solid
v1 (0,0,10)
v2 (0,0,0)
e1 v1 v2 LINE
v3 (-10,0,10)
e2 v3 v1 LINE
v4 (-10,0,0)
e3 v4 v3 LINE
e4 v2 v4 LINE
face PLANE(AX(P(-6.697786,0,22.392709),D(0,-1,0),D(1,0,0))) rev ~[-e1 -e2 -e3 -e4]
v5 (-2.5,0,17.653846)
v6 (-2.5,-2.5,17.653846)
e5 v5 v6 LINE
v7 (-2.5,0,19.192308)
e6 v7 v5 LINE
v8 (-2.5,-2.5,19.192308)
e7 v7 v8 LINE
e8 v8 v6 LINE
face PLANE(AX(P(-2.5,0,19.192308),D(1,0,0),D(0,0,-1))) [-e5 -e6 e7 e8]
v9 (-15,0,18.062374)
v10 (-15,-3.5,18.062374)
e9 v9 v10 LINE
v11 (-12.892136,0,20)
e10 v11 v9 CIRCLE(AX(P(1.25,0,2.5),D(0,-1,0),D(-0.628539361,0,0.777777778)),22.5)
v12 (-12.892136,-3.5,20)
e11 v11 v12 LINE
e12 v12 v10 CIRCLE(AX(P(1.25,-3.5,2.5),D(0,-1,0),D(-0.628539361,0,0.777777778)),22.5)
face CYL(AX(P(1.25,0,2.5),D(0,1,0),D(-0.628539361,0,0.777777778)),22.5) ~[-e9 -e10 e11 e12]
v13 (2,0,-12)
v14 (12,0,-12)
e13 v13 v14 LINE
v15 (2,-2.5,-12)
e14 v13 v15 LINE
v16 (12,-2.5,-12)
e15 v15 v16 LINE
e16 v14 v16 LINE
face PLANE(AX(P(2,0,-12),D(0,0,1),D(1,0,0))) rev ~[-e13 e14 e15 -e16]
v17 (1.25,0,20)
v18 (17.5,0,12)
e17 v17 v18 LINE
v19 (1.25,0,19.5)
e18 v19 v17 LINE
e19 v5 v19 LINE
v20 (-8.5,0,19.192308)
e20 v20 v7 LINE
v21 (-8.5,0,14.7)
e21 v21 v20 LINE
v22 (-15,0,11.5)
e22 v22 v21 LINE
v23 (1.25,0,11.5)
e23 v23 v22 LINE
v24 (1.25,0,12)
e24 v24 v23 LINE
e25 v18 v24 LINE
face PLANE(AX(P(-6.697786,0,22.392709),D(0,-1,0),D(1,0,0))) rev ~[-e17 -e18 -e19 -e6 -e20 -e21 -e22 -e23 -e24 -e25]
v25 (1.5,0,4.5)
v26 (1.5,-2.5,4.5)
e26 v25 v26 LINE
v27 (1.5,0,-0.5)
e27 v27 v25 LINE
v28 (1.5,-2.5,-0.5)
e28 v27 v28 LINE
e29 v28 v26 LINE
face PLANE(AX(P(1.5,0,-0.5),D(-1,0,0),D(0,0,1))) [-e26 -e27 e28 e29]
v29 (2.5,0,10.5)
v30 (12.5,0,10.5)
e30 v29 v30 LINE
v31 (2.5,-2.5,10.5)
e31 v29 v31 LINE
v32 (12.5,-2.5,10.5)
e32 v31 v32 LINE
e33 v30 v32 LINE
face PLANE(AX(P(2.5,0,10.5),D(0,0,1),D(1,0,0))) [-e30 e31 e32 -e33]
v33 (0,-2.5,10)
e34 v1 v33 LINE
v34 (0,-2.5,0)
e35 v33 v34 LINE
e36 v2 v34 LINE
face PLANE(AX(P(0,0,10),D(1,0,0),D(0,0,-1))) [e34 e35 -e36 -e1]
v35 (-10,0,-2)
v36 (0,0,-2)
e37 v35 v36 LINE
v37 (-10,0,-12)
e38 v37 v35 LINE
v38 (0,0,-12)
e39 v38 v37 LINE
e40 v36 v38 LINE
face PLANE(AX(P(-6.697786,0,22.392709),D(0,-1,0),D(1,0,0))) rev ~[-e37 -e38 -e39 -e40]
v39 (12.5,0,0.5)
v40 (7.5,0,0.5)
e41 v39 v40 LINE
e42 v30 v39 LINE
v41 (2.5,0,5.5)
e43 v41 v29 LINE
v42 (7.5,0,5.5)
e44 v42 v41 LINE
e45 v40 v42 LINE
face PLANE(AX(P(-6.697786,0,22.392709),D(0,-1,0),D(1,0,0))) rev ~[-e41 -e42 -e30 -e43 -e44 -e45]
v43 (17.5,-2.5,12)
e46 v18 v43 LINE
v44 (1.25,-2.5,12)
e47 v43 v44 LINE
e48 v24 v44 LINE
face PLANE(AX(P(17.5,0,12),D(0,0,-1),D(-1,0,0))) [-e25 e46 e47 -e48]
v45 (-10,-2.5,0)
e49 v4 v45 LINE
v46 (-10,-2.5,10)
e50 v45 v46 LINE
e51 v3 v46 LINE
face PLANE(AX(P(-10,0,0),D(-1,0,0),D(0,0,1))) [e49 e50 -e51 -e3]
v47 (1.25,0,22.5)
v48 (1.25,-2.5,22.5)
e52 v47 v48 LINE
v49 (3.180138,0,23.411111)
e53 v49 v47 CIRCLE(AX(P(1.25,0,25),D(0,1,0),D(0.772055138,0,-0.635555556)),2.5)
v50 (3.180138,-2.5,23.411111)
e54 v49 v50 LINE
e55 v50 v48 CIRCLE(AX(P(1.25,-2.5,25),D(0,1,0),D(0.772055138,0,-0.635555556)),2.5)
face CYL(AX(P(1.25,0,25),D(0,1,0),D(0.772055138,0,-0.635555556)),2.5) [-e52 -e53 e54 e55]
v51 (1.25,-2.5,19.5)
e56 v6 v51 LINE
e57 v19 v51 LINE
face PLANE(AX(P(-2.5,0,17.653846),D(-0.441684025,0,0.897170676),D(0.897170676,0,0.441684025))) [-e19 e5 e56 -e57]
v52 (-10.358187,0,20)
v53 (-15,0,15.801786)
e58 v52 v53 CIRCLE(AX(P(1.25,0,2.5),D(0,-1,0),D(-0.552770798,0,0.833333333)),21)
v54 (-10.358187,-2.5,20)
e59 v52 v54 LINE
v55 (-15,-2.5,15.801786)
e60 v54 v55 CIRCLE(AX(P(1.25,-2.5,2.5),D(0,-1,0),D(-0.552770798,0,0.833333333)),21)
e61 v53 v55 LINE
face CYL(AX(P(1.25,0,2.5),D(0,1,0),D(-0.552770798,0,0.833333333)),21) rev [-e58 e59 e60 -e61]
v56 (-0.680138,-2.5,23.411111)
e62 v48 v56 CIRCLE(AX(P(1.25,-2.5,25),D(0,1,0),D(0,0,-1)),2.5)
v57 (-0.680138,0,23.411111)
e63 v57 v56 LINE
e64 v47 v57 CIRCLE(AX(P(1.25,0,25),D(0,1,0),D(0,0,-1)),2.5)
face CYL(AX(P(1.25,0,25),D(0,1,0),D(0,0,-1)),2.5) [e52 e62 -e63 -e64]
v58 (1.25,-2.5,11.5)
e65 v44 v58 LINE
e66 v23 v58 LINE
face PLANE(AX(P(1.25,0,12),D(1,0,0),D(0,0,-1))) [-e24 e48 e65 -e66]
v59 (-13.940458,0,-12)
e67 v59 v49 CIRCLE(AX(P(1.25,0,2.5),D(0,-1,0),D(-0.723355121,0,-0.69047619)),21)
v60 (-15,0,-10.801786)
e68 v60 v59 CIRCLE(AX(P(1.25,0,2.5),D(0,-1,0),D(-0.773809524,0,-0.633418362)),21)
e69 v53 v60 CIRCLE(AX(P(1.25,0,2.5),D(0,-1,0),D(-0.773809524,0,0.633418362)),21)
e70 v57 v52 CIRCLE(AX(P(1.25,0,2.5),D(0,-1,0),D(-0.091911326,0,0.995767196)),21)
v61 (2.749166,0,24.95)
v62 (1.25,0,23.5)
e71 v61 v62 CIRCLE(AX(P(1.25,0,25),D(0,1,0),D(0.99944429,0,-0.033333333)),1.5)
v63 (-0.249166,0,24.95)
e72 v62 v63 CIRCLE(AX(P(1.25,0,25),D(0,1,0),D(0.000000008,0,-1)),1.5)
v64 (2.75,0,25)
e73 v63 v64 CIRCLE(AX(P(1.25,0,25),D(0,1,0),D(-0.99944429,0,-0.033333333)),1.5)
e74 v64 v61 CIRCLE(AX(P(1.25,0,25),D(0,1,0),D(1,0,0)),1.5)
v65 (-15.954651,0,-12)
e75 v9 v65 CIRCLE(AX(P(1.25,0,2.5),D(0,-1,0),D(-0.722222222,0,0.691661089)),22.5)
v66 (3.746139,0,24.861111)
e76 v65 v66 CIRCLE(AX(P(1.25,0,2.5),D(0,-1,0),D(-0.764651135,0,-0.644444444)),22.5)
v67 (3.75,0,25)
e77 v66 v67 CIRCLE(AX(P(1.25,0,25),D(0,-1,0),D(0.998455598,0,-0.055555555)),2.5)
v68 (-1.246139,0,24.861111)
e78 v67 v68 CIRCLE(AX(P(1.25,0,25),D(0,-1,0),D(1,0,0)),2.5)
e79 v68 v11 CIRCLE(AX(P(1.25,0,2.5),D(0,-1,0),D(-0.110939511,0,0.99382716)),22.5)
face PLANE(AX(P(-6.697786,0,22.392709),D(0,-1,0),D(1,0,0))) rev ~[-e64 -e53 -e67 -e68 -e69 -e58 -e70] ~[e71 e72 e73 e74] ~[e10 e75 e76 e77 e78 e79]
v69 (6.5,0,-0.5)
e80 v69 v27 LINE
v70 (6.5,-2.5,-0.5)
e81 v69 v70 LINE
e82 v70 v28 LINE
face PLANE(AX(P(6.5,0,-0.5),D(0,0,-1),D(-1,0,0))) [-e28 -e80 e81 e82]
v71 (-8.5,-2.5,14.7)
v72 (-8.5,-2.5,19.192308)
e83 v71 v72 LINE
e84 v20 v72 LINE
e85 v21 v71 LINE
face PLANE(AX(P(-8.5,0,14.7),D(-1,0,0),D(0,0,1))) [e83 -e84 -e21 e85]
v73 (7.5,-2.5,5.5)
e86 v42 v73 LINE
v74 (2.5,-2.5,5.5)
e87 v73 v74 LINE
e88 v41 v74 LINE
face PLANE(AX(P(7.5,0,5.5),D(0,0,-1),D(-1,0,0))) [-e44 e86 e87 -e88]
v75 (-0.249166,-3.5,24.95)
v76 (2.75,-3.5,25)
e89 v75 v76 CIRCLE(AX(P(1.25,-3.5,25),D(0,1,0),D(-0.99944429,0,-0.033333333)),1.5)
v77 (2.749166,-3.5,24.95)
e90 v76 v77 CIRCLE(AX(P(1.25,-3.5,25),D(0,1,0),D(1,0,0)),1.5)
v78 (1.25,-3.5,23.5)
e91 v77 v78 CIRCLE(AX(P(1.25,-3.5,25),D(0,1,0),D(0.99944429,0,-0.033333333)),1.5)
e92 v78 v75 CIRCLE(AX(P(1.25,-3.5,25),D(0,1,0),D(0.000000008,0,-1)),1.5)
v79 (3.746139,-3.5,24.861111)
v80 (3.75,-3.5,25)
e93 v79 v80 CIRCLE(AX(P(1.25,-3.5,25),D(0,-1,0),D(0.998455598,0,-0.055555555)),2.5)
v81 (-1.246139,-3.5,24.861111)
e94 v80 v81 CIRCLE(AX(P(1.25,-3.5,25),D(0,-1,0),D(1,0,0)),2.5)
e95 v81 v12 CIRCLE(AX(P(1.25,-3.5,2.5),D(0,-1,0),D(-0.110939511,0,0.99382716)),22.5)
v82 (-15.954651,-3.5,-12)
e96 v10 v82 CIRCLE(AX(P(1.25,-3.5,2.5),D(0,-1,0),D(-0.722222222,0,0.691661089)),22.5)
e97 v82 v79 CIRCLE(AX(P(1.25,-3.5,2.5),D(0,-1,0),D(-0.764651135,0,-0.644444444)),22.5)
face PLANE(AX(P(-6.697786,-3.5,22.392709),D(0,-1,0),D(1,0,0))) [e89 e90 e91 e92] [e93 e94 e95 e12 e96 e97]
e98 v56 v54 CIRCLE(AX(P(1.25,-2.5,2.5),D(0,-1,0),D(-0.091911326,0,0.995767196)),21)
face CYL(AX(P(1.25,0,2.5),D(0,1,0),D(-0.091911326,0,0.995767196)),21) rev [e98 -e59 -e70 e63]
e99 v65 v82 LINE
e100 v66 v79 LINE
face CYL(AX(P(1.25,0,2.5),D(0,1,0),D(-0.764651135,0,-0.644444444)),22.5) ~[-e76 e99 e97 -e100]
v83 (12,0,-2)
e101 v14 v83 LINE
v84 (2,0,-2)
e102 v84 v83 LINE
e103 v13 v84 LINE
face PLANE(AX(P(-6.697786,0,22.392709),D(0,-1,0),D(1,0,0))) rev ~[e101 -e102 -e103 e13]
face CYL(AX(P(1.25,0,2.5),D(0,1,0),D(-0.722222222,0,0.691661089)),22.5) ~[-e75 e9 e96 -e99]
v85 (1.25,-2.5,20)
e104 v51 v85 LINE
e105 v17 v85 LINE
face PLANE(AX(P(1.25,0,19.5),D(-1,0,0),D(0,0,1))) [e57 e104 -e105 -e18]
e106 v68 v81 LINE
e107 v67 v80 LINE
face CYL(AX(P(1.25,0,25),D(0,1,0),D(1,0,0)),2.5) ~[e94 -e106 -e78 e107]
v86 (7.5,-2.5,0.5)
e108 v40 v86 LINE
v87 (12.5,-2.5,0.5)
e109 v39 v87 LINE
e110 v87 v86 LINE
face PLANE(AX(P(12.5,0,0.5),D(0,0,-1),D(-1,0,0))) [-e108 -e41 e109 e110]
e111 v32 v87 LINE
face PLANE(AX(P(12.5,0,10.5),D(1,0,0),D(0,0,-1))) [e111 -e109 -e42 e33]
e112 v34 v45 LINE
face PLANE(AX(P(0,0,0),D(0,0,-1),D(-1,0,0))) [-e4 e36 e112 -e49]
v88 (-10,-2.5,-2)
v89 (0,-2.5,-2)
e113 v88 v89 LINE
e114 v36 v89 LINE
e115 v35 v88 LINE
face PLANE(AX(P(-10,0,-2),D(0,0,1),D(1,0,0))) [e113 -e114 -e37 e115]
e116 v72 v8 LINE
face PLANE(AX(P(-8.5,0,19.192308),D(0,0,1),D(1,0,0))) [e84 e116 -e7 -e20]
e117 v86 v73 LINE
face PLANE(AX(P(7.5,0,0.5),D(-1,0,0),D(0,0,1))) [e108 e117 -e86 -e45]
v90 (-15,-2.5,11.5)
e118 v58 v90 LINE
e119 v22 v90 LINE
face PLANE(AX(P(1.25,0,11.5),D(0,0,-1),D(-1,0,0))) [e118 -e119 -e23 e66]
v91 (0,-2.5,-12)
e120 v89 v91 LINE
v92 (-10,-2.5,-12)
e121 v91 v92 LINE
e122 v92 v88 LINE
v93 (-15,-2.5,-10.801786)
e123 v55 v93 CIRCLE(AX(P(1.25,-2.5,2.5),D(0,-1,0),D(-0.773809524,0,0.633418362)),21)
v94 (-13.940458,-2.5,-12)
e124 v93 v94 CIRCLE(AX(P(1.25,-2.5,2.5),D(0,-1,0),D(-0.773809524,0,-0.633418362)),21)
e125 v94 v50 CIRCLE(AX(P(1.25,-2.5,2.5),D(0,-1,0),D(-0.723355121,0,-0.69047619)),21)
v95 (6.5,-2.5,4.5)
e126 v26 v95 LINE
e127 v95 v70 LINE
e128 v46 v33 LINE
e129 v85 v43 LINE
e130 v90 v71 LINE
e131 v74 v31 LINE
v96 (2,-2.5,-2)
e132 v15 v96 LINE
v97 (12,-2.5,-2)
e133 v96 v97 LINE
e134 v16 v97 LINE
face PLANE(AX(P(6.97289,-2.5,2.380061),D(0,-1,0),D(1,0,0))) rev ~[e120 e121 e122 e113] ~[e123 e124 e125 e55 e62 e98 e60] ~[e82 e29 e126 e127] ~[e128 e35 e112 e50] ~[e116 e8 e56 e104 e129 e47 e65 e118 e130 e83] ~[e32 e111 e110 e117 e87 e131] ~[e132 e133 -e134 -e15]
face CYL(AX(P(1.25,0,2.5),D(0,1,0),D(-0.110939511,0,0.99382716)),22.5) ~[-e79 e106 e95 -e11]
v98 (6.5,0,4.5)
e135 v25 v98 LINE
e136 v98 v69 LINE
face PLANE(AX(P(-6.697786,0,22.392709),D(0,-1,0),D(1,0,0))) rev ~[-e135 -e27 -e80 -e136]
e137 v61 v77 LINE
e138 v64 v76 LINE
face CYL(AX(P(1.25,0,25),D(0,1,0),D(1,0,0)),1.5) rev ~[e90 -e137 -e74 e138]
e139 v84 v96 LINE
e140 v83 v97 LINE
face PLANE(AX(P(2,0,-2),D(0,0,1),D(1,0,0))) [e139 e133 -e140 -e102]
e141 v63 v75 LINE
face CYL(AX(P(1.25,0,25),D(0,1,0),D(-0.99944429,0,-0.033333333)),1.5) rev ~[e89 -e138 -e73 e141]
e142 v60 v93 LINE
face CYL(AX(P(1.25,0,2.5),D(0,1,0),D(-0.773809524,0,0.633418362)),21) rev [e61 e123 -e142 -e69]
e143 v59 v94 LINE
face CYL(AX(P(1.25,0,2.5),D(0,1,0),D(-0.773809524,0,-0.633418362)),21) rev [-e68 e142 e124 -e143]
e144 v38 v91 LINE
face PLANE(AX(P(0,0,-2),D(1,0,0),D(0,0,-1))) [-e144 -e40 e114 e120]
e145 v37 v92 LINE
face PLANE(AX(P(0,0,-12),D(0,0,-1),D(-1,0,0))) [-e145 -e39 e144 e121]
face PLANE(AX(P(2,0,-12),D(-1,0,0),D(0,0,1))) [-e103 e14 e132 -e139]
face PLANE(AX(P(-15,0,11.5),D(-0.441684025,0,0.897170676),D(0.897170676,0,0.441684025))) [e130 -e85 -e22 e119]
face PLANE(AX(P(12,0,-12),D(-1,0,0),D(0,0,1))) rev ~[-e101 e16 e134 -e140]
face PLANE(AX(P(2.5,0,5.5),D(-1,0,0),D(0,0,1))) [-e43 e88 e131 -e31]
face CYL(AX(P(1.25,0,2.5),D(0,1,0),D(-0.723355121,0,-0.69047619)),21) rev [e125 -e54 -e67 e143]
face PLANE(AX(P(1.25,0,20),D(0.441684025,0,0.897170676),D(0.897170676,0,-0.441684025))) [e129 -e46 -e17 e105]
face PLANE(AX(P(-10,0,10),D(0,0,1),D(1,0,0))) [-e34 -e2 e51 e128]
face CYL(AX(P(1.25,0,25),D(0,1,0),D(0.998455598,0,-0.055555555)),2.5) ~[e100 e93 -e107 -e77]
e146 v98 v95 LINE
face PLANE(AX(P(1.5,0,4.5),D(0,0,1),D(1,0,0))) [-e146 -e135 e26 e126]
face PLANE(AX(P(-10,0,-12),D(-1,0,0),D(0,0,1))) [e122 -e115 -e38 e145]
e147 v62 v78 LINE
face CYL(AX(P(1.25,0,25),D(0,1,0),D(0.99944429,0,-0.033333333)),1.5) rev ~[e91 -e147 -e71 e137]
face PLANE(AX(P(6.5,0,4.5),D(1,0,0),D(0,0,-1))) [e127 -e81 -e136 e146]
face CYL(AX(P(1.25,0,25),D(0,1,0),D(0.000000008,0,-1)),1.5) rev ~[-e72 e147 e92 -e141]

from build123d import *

# Parameters (mm, degrees)
F0_W     = 10
F0_H     = 10
F0_W_2   = 5
F0_H_2   = 5
F1_DEPTH = 3.5
F2_DEPTH = 2.5


with BuildPart() as f1:
    # F0 (on Front) → F1 (new body)
    with BuildSketch(Plane.XZ):
        with BuildLine():
            Line((-12.8921356237, 20), (-10.3581867662, 20))
            ThreePointArc((-10.3581867662, 20), (-5.7307218874, 22.3057951603), (-0.6801378445, 23.4111111111))
            ThreePointArc((-0.6801378445, 23.4111111111), (-1.0788638136, 24.0909382102), (-1.2461389938, 24.8611111111))
            ThreePointArc((-1.2461389938, 24.8611111111), (-7.4169282835, 23.2637750452), (-12.8921356237, 20))
        make_face()
        with BuildLine():
            ThreePointArc((3.75, 25), (1.1805287275, 27.499034562), (-1.2461389938, 24.8611111111))
            ThreePointArc((-1.2461389938, 24.8611111111), (-0.7481470607, 24.9111001141), (-0.2491664351, 24.95))
            ThreePointArc((-0.2491664351, 24.95), (1.2249965261, 26.4997915943), (2.75, 25))
            ThreePointArc((2.75, 25), (2.7497915943, 24.9749965261), (2.7491664351, 24.95))
            ThreePointArc((2.7491664351, 24.95), (3.2481470607, 24.9111001141), (3.7461389938, 24.8611111111))
            ThreePointArc((3.7461389938, 24.8611111111), (3.749034562, 24.9305287275), (3.75, 25))
        make_face()
        with BuildLine():
            ThreePointArc((2.7491664351, 24.95), (2.2928326851, 23.9218070715), (1.250000012, 23.5))
            ThreePointArc((1.250000012, 23.5), (2.2160917891, 23.4777660073), (3.1801378445, 23.4111111111))
            ThreePointArc((3.1801378445, 23.4111111111), (3.5788638136, 24.0909382102), (3.7461389938, 24.8611111111))
            ThreePointArc((3.7461389938, 24.8611111111), (3.2481470607, 24.9111001141), (2.7491664351, 24.95))
        make_face()
        with BuildLine():
            ThreePointArc((-1.2461389938, 24.8611111111), (-1.0788638136, 24.0909382102), (-0.6801378445, 23.4111111111))
            ThreePointArc((-0.6801378445, 23.4111111111), (0.2839082229, 23.4777660078), (1.250000012, 23.5))
            ThreePointArc((1.250000012, 23.5), (0.2071673236, 23.9218070632), (-0.2491664351, 24.95))
            ThreePointArc((-0.2491664351, 24.95), (-0.7481470607, 24.9111001141), (-1.2461389938, 24.8611111111))
        make_face()
        with BuildLine():
            ThreePointArc((1.250000012, 23.5), (0.2839082229, 23.4777660078), (-0.6801378445, 23.4111111111))
            ThreePointArc((-0.6801378445, 23.4111111111), (0.1828126271, 22.739223339), (1.25, 22.5))
            Line((1.25, 22.5), (1.25, 23.5))
        make_face()
        with BuildLine():
            Line((1.25, 23.5), (1.25, 22.5))
            ThreePointArc((1.25, 22.5), (2.3171873729, 22.739223339), (3.1801378445, 23.4111111111))
            ThreePointArc((3.1801378445, 23.4111111111), (2.2160917891, 23.4777660073), (1.250000012, 23.5))
        make_face()
        with BuildLine():
            ThreePointArc((-0.6801378445, 23.4111111111), (-5.7307218874, 22.3057951603), (-10.3581867662, 20))
            Line((-10.3581867662, 20), (1.25, 20))
            Line((1.25, 20), (1.25, 22.5))
            ThreePointArc((1.25, 22.5), (0.1828126271, 22.739223339), (-0.6801378445, 23.4111111111))
        make_face()
        with BuildLine():
            Line((2, -2), (0, -2))
            Line((0, -2), (0, -12))
            Line((0, -12), (-10, -12))
            Line((-10, -12), (-13.940457531, -12))
            ThreePointArc((-13.940457531, -12), (9.0602622187, -16.9935836643), (22.25, 2.5))
            ThreePointArc((22.25, 2.5), (16.7666506491, 16.650390547), (3.1801378445, 23.4111111111))
            ThreePointArc((3.1801378445, 23.4111111111), (2.3171873729, 22.739223339), (1.25, 22.5))
            Line((1.25, 22.5), (1.25, 20))
            Line((1.25, 20), (17.5, 12))
            Line((17.5, 12), (2.5, 12))
            Line((2.5, 12), (2.5, 10.5))
            Line((2.5, 10.5), (7.5, 10.5))
            Line((7.5, 10.5), (12.5, 10.5))
            Line((12.5, 10.5), (12.5, 5.5))
            Line((12.5, 5.5), (12.5, 0.5))
            Line((12.5, 0.5), (7.5, 0.5))
            Line((7.5, 0.5), (7.5, 4.5))
            Line((7.5, 4.5), (6.5, 4.5))
            Line((6.5, 4.5), (6.5, -0.5))
            Line((6.5, -0.5), (2, -0.5))
            Line((2, -0.5), (2, -2))
        make_face()
        with Locations((7, -7)):
            Rectangle(F0_W, F0_H, mode=Mode.SUBTRACT)
        with BuildLine():
            ThreePointArc((22.25, 2.5), (9.0602622187, -16.9935836643), (-13.940457531, -12))
            Line((-13.940457531, -12), (-15, -12))
            Line((-15, -12), (-15.9546505341, -12))
            ThreePointArc((-15.9546505341, -12), (8.9683341138, -18.6347419788), (23.75, 2.5))
            ThreePointArc((23.75, 2.5), (18.0192147604, 17.5014478074), (3.7461389938, 24.8611111111))
            ThreePointArc((3.7461389938, 24.8611111111), (3.5788638136, 24.0909382102), (3.1801378445, 23.4111111111))
            ThreePointArc((3.1801378445, 23.4111111111), (16.7666506491, 16.650390547), (22.25, 2.5))
        make_face()
        Polygon((-15, 11.5), (0, 11.5), (1.25, 11.5), (1.25, 12), (1.25, 19.5), (-2.5, 17.6538461538), (-8.5, 14.7), align=None)
        Polygon((1.25, 19.5), (1.25, 12), (2.5, 12), (17.5, 12), (1.25, 20), align=None)
        with Locations((5, 8)):
            Rectangle(F0_W_2, F0_H_2)
        with Locations((10, 8)):
            Rectangle(F0_W_2, F0_H_2)
        Polygon((7.5, 5.5), (7.5, 4.5), (7.5, 0.5), (12.5, 0.5), (12.5, 5.5), align=None)
        Polygon((1.5, 4.5), (1.5, 0), (1.5, -0.5), (2, -0.5), (6.5, -0.5), (6.5, 4.5), align=None)
        Polygon((0, 10), (0, 0), (1.5, 0), (1.5, 4.5), (6.5, 4.5), (7.5, 4.5), (7.5, 5.5), (2.5, 5.5), (2.5, 10.5), (2.5, 12), (1.25, 12), (1.25, 11.5), (0, 11.5), align=None)
        Polygon((1.5, 0), (0, 0), (0, -1), (0, -2), (2, -2), (2, -0.5), (1.5, -0.5), align=None)
        with Locations((7, -7)):
            Rectangle(F0_W, F0_H)
        with Locations((-5, -7)):
            Rectangle(F0_W, F0_H)
        with BuildLine():
            Line((0, -1), (0, 0))
            Line((0, 0), (-10, 0))
            Line((-10, 0), (-10, 10))
            Line((-10, 10), (-7.5, 10))
            Line((-7.5, 10), (0, 10))
            Line((0, 10), (0, 11.5))
            Line((0, 11.5), (-15, 11.5))
            Line((-15, 11.5), (-15, 4))
            Line((-15, 4), (-15, -10.8017855944))
            ThreePointArc((-15, -10.8017855944), (-14.4816407879, -11.4109840817), (-13.940457531, -12))
            Line((-13.940457531, -12), (-10, -12))
            Line((-10, -12), (-10, -2))
            Line((-10, -2), (0, -2))
            Line((0, -2), (0, -1))
        make_face()
        Polygon((-10, 0), (0, 0), (0, 10), (-7.5, 10), (-10, 10), align=None)
        with BuildLine():
            Line((-15, 15.8017855944), (-15, 11.5))
            Line((-15, 11.5), (-8.5, 14.7))
            Line((-8.5, 14.7), (-8.5, 19.1923076923))
            Line((-8.5, 19.1923076923), (-2.5, 19.1923076923))
            Line((-2.5, 19.1923076923), (-2.5, 17.6538461538))
            Line((-2.5, 17.6538461538), (1.25, 19.5))
            Line((1.25, 19.5), (1.25, 20))
            Line((1.25, 20), (-10.3581867662, 20))
            ThreePointArc((-10.3581867662, 20), (-12.8363726177, 18.0747907362), (-15, 15.8017855944))
        make_face()
        Polygon((-8.5, 19.1923076923), (-8.5, 14.7), (-2.5, 17.6538461538), (-2.5, 19.1923076923), align=None)
        with BuildLine():
            Line((-15, 18.0623744975), (-15, 15.8017855944))
            ThreePointArc((-15, 15.8017855944), (-12.8363726177, 18.0747907362), (-10.3581867662, 20))
            Line((-10.3581867662, 20), (-12.8921356237, 20))
            ThreePointArc((-12.8921356237, 20), (-13.9769194222, 19.0647494672), (-15, 18.0623744975))
        make_face()
        with BuildLine():
            ThreePointArc((-15, -10.8017855944), (-19.75, 2.5), (-15, 15.8017855944))
            Line((-15, 15.8017855944), (-15, 18.0623744975))
            ThreePointArc((-15, 18.0623744975), (-21.2386638264, 3.2141423554), (-15.9546505341, -12))
            Line((-15.9546505341, -12), (-15, -12))
            Line((-15, -12), (-15, -10.8017855944))
        make_face()
        with BuildLine():
            Line((-15, 4), (-15, 11.5))
            Line((-15, 11.5), (-15, 15.8017855944))
            ThreePointArc((-15, 15.8017855944), (-19.75, 2.5), (-15, -10.8017855944))
            Line((-15, -10.8017855944), (-15, 4))
        make_face()
        with BuildLine():
            ThreePointArc((-13.940457531, -12), (-14.4816407879, -11.4109840817), (-15, -10.8017855944))
            Line((-15, -10.8017855944), (-15, -12))
            Line((-15, -12), (-13.940457531, -12))
        make_face()
    extrude(amount=F1_DEPTH)

    # F0 (on Front) → F2 (cut)
    with BuildSketch(Plane.XZ):
        with BuildLine():
            Line((2, -2), (0, -2))
            Line((0, -2), (0, -12))
            Line((0, -12), (-10, -12))
            Line((-10, -12), (-13.940457531, -12))
            ThreePointArc((-13.940457531, -12), (9.0602622187, -16.9935836643), (22.25, 2.5))
            ThreePointArc((22.25, 2.5), (16.7666506491, 16.650390547), (3.1801378445, 23.4111111111))
            ThreePointArc((3.1801378445, 23.4111111111), (2.3171873729, 22.739223339), (1.25, 22.5))
            Line((1.25, 22.5), (1.25, 20))
            Line((1.25, 20), (17.5, 12))
            Line((17.5, 12), (2.5, 12))
            Line((2.5, 12), (2.5, 10.5))
            Line((2.5, 10.5), (7.5, 10.5))
            Line((7.5, 10.5), (12.5, 10.5))
            Line((12.5, 10.5), (12.5, 5.5))
            Line((12.5, 5.5), (12.5, 0.5))
            Line((12.5, 0.5), (7.5, 0.5))
            Line((7.5, 0.5), (7.5, 4.5))
            Line((7.5, 4.5), (6.5, 4.5))
            Line((6.5, 4.5), (6.5, -0.5))
            Line((6.5, -0.5), (2, -0.5))
            Line((2, -0.5), (2, -2))
        make_face()
        with Locations((7, -7)):
            Rectangle(F0_W, F0_H, mode=Mode.SUBTRACT)
        Polygon((0, 10), (0, 0), (1.5, 0), (1.5, 4.5), (6.5, 4.5), (7.5, 4.5), (7.5, 5.5), (2.5, 5.5), (2.5, 10.5), (2.5, 12), (1.25, 12), (1.25, 11.5), (0, 11.5), align=None)
        Polygon((1.5, 0), (0, 0), (0, -1), (0, -2), (2, -2), (2, -0.5), (1.5, -0.5), align=None)
        with BuildLine():
            Line((0, -1), (0, 0))
            Line((0, 0), (-10, 0))
            Line((-10, 0), (-10, 10))
            Line((-10, 10), (-7.5, 10))
            Line((-7.5, 10), (0, 10))
            Line((0, 10), (0, 11.5))
            Line((0, 11.5), (-15, 11.5))
            Line((-15, 11.5), (-15, 4))
            Line((-15, 4), (-15, -10.8017855944))
            ThreePointArc((-15, -10.8017855944), (-14.4816407879, -11.4109840817), (-13.940457531, -12))
            Line((-13.940457531, -12), (-10, -12))
            Line((-10, -12), (-10, -2))
            Line((-10, -2), (0, -2))
            Line((0, -2), (0, -1))
        make_face()
        with BuildLine():
            Line((-15, 4), (-15, 11.5))
            Line((-15, 11.5), (-15, 15.8017855944))
            ThreePointArc((-15, 15.8017855944), (-19.75, 2.5), (-15, -10.8017855944))
            Line((-15, -10.8017855944), (-15, 4))
        make_face()
        with BuildLine():
            Line((-15, 15.8017855944), (-15, 11.5))
            Line((-15, 11.5), (-8.5, 14.7))
            Line((-8.5, 14.7), (-8.5, 19.1923076923))
            Line((-8.5, 19.1923076923), (-2.5, 19.1923076923))
            Line((-2.5, 19.1923076923), (-2.5, 17.6538461538))
            Line((-2.5, 17.6538461538), (1.25, 19.5))
            Line((1.25, 19.5), (1.25, 20))
            Line((1.25, 20), (-10.3581867662, 20))
            ThreePointArc((-10.3581867662, 20), (-12.8363726177, 18.0747907362), (-15, 15.8017855944))
        make_face()
        with BuildLine():
            ThreePointArc((-0.6801378445, 23.4111111111), (-5.7307218874, 22.3057951603), (-10.3581867662, 20))
            Line((-10.3581867662, 20), (1.25, 20))
            Line((1.25, 20), (1.25, 22.5))
            ThreePointArc((1.25, 22.5), (0.1828126271, 22.739223339), (-0.6801378445, 23.4111111111))
        make_face()
    extrude(amount=F2_DEPTH, mode=Mode.SUBTRACT)


solid = f1.part
